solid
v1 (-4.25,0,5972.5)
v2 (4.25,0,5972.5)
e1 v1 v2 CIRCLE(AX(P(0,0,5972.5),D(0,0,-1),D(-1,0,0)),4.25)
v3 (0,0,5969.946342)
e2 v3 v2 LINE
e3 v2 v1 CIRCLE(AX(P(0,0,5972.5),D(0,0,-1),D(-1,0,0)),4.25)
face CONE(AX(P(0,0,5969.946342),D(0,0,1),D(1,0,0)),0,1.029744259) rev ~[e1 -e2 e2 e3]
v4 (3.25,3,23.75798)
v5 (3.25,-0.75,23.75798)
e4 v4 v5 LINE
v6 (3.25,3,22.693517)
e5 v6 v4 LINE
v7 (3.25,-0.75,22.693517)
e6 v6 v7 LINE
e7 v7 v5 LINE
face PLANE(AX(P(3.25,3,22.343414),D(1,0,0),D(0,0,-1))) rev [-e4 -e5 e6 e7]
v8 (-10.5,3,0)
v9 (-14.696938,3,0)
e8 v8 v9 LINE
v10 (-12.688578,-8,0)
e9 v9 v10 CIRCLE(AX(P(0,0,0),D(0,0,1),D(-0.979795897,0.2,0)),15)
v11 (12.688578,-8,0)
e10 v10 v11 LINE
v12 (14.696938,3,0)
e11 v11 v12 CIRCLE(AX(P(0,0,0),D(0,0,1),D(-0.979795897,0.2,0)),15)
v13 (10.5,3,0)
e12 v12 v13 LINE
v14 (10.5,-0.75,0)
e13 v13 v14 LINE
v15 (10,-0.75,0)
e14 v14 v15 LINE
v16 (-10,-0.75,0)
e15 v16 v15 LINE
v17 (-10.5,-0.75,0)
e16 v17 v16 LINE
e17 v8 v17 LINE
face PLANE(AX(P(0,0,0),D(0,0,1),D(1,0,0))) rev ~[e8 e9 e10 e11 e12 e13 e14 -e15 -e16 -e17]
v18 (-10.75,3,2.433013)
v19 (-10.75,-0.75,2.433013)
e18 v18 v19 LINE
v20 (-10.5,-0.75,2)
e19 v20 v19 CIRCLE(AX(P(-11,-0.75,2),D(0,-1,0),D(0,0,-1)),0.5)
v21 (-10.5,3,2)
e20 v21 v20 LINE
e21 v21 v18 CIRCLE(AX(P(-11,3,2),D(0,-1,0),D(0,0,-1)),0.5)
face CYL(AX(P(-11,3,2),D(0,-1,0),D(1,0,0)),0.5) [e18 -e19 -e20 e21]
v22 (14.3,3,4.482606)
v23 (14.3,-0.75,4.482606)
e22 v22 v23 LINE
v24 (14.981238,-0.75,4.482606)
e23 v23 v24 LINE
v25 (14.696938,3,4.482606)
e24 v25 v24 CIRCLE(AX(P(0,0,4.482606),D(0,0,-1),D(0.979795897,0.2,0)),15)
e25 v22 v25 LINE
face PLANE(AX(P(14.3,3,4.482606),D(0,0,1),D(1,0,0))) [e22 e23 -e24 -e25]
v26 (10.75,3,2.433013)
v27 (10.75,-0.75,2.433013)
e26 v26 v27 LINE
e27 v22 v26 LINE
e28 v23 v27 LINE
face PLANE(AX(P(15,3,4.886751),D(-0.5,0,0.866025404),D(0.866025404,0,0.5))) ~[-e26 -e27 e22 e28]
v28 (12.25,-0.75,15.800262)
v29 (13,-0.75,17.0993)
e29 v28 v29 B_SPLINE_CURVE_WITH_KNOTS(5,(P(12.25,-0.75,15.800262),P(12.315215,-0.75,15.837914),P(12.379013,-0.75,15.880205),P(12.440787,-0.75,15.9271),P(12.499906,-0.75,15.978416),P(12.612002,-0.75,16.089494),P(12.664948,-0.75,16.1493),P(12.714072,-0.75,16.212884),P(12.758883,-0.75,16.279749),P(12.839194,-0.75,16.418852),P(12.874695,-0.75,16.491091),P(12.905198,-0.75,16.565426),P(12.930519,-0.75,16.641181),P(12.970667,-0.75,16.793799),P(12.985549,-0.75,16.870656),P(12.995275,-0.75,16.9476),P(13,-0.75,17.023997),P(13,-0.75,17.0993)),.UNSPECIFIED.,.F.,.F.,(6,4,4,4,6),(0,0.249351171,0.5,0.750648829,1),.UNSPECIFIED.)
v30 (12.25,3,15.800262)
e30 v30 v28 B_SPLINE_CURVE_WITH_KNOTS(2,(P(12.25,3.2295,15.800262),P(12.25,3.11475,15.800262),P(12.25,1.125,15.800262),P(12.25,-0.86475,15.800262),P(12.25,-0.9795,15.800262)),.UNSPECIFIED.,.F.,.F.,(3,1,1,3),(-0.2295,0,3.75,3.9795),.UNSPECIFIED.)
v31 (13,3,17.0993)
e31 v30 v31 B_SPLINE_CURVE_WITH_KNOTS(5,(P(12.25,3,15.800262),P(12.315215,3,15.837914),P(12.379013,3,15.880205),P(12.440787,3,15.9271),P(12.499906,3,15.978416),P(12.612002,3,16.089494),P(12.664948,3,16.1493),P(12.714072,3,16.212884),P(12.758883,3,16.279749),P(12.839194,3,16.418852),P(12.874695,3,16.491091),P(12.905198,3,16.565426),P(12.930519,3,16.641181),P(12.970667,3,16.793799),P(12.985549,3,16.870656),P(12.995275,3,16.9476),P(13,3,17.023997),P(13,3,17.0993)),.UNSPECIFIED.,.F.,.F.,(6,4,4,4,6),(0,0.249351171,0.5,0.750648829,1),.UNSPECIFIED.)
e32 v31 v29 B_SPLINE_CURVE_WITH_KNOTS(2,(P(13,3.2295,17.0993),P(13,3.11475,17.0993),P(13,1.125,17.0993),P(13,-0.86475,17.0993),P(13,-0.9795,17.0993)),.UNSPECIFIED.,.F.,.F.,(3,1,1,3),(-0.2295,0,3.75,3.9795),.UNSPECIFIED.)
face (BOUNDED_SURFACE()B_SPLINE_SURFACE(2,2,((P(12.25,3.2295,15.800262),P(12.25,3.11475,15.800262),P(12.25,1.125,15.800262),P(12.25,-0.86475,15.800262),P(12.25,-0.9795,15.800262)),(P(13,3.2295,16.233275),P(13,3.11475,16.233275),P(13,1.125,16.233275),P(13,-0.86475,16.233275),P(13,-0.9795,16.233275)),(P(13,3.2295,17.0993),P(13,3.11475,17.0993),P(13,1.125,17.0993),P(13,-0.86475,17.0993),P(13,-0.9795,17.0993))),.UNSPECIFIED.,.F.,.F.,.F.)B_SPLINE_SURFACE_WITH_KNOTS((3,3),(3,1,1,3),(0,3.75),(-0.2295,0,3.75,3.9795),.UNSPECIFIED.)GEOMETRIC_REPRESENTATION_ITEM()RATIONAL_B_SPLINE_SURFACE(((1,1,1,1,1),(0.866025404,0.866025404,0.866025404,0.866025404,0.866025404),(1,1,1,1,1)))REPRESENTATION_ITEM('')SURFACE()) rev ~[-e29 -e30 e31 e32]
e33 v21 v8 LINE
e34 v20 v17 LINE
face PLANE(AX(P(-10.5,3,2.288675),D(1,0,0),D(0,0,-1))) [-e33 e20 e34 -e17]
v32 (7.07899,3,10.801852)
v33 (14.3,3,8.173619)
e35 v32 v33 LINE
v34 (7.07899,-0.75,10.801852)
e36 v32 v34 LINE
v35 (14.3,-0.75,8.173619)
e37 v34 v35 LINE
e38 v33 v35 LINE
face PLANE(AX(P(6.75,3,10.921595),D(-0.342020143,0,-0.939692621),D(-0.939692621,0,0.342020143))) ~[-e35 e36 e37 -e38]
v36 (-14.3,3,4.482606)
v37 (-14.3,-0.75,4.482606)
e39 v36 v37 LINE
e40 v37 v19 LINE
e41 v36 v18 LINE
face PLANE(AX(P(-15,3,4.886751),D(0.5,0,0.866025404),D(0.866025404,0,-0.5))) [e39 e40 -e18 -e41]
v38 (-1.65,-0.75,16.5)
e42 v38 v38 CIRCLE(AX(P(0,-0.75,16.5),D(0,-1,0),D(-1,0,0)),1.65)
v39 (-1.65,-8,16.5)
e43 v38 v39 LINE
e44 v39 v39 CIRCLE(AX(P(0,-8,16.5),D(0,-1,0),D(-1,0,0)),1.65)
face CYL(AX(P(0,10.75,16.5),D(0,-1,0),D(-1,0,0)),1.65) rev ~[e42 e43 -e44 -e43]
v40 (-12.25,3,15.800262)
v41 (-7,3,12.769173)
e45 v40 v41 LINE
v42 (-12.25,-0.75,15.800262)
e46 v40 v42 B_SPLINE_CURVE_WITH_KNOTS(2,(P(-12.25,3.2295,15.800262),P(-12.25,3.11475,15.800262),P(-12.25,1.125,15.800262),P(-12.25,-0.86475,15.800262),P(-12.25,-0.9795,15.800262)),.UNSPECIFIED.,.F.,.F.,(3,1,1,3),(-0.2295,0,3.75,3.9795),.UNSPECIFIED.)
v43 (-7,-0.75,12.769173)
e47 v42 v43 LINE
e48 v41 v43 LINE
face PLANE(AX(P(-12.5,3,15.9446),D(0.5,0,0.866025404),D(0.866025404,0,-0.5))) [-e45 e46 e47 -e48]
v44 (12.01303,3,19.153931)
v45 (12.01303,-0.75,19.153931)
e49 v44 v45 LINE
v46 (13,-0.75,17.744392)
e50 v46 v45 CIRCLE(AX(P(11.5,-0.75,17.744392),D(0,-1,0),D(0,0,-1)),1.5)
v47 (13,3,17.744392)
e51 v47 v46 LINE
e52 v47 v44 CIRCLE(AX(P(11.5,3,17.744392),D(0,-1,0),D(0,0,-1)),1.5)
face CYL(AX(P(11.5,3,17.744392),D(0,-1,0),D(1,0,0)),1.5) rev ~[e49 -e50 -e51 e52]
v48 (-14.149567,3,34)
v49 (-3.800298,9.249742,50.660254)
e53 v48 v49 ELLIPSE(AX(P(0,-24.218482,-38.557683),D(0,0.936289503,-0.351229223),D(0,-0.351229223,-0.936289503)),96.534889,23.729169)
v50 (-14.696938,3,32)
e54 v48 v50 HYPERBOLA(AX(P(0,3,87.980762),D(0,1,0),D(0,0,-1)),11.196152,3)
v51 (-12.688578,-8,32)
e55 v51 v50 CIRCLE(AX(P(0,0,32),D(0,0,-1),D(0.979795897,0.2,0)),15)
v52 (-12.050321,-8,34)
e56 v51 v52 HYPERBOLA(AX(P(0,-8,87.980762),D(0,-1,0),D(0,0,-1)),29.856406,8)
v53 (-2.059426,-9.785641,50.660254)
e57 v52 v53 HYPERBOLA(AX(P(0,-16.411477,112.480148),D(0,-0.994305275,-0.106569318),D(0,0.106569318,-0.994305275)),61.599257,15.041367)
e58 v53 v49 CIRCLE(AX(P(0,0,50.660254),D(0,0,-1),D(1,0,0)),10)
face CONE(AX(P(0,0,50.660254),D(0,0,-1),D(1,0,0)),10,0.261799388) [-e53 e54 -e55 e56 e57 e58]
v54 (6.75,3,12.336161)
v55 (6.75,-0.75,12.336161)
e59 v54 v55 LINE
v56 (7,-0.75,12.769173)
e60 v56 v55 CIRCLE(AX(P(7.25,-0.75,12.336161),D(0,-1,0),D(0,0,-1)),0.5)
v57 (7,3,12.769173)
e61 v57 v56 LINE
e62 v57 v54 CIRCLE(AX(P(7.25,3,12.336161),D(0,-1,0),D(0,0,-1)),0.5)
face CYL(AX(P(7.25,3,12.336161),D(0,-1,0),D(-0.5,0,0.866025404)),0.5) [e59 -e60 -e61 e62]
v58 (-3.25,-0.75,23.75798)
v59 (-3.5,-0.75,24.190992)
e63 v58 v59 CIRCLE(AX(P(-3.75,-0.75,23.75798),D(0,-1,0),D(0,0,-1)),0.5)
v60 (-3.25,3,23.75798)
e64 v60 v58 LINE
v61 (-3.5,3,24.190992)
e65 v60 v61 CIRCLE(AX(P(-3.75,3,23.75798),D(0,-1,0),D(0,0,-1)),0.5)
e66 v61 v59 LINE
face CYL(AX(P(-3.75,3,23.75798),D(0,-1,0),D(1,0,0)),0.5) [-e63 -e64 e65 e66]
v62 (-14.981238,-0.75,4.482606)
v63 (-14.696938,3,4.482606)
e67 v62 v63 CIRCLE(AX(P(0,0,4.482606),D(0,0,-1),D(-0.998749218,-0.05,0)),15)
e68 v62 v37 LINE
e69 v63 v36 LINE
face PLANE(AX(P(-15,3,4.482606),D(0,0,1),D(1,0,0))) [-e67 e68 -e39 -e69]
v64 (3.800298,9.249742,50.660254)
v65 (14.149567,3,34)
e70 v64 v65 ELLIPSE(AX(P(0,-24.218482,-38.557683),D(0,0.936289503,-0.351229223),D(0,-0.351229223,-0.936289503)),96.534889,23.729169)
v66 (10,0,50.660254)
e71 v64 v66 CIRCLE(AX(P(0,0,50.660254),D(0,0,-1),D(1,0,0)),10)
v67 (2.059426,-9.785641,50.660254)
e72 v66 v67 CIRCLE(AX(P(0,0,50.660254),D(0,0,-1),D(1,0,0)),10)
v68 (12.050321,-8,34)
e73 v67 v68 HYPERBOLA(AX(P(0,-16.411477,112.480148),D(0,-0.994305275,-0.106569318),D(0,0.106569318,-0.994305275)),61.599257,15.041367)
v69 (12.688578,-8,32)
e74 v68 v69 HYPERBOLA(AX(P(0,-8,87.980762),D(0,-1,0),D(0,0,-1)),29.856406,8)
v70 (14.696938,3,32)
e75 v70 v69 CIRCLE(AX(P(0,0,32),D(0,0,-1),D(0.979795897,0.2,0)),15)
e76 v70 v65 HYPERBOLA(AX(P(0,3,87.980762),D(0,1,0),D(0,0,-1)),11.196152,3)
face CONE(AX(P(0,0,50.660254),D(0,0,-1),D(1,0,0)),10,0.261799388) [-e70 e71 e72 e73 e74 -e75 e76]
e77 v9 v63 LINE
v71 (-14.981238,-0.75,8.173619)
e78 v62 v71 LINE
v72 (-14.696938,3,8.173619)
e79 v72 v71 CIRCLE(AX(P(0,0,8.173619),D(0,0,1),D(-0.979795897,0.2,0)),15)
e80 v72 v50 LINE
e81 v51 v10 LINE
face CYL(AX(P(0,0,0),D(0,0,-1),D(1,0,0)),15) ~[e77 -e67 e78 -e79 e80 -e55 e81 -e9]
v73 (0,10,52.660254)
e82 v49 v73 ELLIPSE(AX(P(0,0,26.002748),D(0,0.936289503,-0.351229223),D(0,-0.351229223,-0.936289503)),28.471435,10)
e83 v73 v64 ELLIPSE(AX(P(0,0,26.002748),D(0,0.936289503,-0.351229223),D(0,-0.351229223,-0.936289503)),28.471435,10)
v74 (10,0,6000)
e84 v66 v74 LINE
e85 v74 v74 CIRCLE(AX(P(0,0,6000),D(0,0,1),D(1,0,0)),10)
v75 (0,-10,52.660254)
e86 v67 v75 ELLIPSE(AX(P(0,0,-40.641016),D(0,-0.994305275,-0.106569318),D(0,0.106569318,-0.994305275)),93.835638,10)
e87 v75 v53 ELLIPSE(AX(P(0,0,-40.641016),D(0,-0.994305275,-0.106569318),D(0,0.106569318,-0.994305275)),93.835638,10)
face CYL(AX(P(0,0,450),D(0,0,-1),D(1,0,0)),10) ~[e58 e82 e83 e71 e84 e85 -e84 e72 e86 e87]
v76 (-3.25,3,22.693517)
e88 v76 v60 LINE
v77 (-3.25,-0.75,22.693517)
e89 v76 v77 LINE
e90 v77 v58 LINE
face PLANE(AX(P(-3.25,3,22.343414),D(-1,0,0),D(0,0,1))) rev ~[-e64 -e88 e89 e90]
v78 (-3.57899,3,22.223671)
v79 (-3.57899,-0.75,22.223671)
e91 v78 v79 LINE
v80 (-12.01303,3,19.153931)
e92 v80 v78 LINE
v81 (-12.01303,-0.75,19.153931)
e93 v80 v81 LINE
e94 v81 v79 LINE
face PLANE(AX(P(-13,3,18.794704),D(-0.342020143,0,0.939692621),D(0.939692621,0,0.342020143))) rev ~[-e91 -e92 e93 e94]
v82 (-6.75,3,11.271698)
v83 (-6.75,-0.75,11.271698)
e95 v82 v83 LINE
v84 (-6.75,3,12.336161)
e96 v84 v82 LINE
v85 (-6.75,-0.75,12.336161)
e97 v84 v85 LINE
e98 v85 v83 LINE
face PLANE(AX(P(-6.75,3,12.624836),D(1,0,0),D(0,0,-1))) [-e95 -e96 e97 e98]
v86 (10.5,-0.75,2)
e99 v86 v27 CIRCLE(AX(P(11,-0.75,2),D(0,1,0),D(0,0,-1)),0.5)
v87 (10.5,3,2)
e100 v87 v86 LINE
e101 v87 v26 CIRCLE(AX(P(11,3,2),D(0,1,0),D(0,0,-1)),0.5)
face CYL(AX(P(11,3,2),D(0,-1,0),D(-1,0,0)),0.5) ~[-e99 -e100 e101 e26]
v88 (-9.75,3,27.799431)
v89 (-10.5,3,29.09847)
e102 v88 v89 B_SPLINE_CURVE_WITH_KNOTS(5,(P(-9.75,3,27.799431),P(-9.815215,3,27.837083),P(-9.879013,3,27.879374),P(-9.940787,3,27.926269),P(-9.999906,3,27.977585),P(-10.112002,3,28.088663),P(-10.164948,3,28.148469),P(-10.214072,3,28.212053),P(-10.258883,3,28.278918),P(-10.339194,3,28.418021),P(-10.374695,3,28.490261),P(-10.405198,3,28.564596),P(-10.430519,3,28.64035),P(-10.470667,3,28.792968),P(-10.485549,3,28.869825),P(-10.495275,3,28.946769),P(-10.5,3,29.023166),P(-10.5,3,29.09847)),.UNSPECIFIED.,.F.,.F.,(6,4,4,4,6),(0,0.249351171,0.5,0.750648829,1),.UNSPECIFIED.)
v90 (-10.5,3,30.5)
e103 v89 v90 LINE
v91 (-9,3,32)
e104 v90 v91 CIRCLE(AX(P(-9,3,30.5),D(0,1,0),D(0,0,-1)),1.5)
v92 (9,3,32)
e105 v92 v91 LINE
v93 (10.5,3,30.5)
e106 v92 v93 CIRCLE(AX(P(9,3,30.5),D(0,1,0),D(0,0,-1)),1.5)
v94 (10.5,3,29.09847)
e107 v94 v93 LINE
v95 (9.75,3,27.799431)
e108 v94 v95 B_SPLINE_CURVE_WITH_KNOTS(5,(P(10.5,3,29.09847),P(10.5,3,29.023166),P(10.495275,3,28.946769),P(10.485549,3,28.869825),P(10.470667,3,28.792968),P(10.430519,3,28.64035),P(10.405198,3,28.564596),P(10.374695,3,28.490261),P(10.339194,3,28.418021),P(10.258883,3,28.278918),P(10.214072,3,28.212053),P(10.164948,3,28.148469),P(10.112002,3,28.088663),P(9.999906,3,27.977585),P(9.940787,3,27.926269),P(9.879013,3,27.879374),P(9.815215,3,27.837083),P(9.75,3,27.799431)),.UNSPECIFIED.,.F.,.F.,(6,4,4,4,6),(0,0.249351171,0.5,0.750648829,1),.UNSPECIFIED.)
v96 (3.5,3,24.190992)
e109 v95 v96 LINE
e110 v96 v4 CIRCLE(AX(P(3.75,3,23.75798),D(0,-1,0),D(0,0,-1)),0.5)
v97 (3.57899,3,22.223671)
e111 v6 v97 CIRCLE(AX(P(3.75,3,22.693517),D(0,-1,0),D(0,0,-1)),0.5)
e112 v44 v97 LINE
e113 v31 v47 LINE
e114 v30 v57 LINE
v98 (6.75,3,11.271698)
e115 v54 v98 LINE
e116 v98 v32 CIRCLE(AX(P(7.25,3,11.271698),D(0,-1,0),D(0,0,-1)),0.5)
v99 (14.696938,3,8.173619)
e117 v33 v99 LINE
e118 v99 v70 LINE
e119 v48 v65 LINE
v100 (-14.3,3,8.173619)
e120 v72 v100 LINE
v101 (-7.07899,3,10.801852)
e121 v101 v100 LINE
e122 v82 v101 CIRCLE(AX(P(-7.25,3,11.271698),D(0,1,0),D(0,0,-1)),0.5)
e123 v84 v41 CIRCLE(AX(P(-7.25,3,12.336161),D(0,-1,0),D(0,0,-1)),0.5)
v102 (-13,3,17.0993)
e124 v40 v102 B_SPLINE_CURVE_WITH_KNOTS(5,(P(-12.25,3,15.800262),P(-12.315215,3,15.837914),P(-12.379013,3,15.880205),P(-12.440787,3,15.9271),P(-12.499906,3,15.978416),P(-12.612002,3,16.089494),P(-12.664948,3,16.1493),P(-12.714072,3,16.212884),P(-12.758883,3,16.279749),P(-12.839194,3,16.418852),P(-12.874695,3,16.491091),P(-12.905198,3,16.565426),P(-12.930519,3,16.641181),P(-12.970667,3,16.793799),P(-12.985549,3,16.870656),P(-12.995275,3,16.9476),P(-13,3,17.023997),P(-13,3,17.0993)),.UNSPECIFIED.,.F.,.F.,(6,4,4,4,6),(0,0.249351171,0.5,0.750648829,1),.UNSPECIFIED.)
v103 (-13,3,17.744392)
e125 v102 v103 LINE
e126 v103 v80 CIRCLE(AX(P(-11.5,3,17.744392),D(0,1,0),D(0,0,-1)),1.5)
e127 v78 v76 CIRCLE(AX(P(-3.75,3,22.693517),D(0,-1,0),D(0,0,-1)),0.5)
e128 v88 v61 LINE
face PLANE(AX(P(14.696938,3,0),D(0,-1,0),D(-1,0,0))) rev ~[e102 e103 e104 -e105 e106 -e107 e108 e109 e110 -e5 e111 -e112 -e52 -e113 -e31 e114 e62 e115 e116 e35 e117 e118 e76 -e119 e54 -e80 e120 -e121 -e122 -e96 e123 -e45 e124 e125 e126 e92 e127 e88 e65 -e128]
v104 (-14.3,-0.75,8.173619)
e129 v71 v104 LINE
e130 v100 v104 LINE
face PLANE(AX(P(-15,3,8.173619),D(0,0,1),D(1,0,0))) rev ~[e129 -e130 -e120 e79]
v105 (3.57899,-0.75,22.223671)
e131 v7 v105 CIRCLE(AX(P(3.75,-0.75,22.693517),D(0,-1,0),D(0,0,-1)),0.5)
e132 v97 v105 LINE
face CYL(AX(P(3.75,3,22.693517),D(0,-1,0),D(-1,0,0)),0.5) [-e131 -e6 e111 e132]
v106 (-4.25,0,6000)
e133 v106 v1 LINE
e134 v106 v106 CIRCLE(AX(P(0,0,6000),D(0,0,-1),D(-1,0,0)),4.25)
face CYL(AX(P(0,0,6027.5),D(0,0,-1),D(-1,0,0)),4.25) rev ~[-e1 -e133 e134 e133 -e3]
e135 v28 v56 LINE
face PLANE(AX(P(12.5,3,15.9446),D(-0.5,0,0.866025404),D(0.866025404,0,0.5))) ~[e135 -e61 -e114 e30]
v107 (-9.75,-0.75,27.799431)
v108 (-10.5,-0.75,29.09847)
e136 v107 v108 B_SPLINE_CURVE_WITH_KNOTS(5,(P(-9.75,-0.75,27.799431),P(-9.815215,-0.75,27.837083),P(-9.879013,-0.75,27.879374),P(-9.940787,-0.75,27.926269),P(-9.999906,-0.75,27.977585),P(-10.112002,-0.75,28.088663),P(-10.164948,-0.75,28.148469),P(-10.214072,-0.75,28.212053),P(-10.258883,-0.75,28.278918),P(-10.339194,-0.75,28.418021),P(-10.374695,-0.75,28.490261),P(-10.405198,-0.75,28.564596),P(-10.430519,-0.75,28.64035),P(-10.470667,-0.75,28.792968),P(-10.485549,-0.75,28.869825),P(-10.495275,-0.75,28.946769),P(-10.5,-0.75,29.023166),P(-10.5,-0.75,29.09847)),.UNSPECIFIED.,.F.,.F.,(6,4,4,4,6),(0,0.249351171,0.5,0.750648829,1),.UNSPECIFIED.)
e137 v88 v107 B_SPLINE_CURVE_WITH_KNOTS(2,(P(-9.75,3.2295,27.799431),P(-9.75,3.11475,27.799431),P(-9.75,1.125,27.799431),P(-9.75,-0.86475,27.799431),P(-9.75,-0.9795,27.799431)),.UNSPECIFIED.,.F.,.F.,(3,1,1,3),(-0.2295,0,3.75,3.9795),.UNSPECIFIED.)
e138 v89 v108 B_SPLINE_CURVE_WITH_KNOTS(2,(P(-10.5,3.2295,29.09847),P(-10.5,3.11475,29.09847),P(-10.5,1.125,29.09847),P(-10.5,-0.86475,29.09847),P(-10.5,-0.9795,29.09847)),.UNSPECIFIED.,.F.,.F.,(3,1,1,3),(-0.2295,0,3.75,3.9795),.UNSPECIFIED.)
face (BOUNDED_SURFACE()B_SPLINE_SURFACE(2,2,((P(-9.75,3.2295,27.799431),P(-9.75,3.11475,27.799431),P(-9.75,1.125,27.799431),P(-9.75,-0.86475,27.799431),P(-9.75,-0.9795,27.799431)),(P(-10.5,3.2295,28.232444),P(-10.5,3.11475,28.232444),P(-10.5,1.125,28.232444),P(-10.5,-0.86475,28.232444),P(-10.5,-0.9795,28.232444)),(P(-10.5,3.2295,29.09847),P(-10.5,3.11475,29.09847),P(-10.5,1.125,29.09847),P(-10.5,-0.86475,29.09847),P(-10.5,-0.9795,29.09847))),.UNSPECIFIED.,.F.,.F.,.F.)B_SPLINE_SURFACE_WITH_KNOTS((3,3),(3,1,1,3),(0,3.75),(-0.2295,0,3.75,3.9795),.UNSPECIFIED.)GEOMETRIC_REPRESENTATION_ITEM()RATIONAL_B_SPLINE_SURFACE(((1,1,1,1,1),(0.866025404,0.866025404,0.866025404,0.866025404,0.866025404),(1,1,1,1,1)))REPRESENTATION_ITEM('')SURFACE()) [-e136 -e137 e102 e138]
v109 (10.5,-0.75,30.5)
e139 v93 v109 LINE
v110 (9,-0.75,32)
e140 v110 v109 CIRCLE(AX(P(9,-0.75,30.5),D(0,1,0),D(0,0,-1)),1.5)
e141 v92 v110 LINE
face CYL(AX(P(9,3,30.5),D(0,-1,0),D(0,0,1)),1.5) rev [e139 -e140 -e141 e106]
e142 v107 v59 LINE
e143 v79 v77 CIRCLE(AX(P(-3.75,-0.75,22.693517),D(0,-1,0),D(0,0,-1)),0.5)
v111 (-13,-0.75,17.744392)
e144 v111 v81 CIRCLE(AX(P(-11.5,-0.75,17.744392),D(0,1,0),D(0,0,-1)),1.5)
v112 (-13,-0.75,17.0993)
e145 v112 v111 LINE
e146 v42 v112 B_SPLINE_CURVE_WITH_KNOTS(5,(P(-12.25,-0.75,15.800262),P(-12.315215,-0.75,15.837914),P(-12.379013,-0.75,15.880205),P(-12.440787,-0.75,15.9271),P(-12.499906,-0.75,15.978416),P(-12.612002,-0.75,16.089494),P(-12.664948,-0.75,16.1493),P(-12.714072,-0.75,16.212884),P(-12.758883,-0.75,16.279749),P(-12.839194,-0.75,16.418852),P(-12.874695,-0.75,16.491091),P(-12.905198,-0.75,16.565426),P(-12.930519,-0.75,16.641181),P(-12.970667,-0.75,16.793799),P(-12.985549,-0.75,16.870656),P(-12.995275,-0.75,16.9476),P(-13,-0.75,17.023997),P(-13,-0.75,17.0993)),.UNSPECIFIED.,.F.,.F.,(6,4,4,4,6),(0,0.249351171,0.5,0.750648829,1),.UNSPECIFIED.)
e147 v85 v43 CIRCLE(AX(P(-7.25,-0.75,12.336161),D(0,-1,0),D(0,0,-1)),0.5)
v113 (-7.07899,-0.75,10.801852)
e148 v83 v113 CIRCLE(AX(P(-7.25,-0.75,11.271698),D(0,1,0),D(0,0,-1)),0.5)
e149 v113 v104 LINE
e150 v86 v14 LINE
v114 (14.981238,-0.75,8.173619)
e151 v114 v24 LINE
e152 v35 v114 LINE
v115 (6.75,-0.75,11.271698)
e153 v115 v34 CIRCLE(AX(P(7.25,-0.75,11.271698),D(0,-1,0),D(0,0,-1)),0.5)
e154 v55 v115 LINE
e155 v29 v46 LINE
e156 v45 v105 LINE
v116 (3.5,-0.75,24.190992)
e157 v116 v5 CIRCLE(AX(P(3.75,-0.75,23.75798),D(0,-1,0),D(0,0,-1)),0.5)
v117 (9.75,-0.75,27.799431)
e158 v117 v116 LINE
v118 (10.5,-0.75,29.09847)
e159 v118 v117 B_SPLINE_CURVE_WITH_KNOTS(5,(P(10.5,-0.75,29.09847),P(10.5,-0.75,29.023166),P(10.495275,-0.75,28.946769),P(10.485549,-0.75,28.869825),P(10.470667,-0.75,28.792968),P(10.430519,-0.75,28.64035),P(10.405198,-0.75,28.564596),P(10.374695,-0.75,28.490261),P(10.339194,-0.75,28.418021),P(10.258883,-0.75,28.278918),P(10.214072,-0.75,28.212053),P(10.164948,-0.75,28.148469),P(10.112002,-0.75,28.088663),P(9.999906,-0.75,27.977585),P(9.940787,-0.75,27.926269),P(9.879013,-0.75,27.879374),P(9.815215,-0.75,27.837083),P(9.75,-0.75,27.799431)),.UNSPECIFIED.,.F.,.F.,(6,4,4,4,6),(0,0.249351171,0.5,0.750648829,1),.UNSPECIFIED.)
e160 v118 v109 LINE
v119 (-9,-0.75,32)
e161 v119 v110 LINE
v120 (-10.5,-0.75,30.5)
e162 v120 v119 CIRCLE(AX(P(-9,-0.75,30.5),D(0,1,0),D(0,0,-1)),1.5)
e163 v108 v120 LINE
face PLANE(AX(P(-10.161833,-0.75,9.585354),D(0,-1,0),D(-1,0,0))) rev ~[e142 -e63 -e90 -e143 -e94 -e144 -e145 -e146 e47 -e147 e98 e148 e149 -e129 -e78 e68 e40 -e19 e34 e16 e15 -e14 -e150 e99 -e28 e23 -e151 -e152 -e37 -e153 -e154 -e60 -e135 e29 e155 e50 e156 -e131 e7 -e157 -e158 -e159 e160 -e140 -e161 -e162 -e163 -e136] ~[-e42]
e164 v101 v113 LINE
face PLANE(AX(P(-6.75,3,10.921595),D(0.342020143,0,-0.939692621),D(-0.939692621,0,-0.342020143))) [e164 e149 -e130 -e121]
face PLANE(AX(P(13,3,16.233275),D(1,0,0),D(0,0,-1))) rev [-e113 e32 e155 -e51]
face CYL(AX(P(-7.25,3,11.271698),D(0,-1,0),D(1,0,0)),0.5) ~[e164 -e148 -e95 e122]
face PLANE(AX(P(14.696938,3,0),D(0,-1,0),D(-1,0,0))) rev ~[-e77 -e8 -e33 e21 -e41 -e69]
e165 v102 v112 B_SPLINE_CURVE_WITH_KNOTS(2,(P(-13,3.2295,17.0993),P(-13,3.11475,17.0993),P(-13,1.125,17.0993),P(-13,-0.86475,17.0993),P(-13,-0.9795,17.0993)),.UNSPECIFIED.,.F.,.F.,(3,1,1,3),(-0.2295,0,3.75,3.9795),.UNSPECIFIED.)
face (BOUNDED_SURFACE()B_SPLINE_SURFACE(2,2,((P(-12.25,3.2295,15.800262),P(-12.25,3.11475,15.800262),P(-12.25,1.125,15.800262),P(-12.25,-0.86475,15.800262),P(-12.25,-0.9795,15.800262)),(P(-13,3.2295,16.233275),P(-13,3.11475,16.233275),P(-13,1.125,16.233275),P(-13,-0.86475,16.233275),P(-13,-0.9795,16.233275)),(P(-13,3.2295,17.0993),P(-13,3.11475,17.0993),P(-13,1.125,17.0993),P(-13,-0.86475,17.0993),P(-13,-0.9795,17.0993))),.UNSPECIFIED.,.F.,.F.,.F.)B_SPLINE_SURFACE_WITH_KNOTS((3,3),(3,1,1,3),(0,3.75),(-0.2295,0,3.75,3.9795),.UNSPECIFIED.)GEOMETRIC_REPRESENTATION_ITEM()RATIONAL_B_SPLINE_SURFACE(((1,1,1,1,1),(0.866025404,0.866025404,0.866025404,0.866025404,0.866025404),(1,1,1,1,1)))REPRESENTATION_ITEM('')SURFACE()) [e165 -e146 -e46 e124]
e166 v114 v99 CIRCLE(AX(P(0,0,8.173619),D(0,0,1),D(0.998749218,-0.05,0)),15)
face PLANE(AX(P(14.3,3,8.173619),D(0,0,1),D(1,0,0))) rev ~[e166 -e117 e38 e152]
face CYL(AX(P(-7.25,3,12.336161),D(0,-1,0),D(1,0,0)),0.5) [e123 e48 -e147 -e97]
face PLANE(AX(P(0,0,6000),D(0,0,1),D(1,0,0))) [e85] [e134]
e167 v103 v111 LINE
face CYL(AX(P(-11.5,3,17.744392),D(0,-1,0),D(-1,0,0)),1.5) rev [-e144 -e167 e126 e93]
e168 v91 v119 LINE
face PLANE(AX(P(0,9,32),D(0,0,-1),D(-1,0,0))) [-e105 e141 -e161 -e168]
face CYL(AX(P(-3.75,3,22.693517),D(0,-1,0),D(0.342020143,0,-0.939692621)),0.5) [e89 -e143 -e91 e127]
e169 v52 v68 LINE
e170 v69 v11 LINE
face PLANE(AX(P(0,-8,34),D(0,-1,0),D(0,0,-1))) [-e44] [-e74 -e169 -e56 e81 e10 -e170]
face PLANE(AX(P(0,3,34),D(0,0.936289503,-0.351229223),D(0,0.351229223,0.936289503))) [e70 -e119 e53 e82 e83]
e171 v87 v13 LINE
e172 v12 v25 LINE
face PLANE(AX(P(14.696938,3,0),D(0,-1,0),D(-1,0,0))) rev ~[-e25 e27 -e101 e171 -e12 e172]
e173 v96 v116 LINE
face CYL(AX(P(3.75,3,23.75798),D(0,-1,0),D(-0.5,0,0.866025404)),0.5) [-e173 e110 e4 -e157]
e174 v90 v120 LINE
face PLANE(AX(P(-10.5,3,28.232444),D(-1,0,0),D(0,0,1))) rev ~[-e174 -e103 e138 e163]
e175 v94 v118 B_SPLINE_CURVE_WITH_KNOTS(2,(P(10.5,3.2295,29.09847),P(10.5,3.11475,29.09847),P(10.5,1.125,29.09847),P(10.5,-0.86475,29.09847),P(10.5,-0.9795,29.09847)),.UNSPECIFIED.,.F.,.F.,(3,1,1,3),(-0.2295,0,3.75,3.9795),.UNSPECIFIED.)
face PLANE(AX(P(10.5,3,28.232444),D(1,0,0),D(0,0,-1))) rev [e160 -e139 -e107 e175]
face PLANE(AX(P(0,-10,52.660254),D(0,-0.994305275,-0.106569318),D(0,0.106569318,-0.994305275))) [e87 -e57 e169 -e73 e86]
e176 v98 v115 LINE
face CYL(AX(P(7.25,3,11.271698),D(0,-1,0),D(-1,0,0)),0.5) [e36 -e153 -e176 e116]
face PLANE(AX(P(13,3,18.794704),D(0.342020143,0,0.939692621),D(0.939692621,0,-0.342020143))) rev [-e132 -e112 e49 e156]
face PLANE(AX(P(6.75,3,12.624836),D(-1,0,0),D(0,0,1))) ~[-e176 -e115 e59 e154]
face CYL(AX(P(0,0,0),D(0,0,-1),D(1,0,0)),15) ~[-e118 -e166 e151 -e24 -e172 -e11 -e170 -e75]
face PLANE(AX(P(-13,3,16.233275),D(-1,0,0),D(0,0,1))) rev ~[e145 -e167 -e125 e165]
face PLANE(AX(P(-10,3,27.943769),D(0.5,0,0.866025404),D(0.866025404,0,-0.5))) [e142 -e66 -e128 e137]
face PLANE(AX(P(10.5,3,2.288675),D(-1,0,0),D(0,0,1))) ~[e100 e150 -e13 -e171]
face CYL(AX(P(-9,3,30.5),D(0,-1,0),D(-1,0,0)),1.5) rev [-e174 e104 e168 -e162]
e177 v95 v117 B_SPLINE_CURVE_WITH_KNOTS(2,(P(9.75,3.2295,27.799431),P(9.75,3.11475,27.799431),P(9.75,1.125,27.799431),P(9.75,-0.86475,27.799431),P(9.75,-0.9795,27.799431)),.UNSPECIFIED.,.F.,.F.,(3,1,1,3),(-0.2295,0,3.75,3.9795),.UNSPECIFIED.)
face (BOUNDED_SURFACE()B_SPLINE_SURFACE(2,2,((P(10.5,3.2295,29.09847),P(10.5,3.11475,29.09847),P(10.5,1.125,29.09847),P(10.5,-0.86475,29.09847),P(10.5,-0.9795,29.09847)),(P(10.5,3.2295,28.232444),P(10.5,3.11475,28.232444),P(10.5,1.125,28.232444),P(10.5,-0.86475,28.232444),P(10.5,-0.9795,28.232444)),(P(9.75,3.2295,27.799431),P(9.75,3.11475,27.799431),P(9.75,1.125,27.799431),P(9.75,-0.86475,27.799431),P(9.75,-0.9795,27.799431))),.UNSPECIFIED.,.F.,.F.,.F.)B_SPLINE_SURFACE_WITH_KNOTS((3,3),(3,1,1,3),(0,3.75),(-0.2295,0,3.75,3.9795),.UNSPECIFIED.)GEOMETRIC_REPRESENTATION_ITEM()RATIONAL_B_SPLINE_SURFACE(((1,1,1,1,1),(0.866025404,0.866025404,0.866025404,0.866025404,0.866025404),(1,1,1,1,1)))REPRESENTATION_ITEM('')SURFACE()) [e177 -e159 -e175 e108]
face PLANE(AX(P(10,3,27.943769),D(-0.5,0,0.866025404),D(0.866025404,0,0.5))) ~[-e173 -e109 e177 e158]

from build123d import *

# Parameters (mm, degrees)
ESQUISSE1_R            = 15
BOSS_EXTRU_1_DEPTH     = 450
SKETCH4_W              = 29.393876914
SKETCH4_H              = 12
CUT_EXTRUDE1_DEPTH     = 32
CUT_EXTRUDE2_DEPTH     = 3.75
SKETCH6_W              = 0.5
SKETCH6_H              = 2.288675135
CUT_EXTRUDE3_DEPTH     = 3.75
FILLET1_R              = 0.5
FILLET2_R              = 1.5
CUT_EXTRUDE4_DEPTH     = 15
CUT_EXTRUDE5_DEPTH     = 15
SKETCH11_W             = 0.7
SKETCH11_H             = 0.404145188
SKETCH11_H_2           = 1.772825297
CUT_EXTRUDE7_DEPTH     = 3.75
SKETCH12_R             = 10
BOSS_EXTRUDE1_DEPTH    = 5550
M10_TAPPED_HOLE1_D     = 8.5
M10_TAPPED_HOLE1_DEPTH = 27.5
M10_TAPPED_HOLE1_TIP   = 2.553657631
M4_TAPPED_HOLE1_D      = 3.3
M4_TAPPED_HOLE1_DEPTH  = 11.5
M4_TAPPED_HOLE1_TIP    = 0.991420021


with BuildPart() as part:
    # Esquisse1 → Boss.-Extru.1 (new body)
    with BuildSketch(Plane.XY):
        Circle(ESQUISSE1_R)
    extrude(amount=BOSS_EXTRU_1_DEPTH)

    # Sketch4 → Cut-Extrude1 (cut)
    with BuildSketch(Plane(origin=(0, 0, 0), x_dir=(-1, 0, 0), z_dir=(0, 0, -1))):
        with Locations((0, 9)):
            Rectangle(SKETCH4_W, SKETCH4_H)
    extrude(amount=-CUT_EXTRUDE1_DEPTH, mode=Mode.SUBTRACT)

    # Sketch5 → Cut-Extrude2 (cut)
    with BuildSketch(Plane(origin=(0, 3, 0), x_dir=(1, 0, 0), z_dir=(0, 1, 0))):
        Polygon((0, 0), (0, -32), (-10, -32), (-10, -27.943769062), (-3, -23.902317178), (-3, -21.902317178), (-12.5, -18.444599952), (-12.5, -15.944599952), (-6.5, -12.480498337), (-6.5, -10.480498337), (-15, -7.386751346), (-15, -4.886751346), (-10, -2), (-10, 0), align=None)
    cut_extrude2 = extrude(amount=-CUT_EXTRUDE2_DEPTH, mode=Mode.SUBTRACT)

    # Sketch6 → Cut-Extrude3 (cut)
    with BuildSketch(Plane(origin=(0, 3, 0), x_dir=(1, 0, 0), z_dir=(0, 1, 0))):
        with Locations((-10.25, -1.144337568)):
            Rectangle(SKETCH6_W, SKETCH6_H)
        Polygon((-6.75, -12.624835905), (-6.75, -10.921594665), (-15, -7.918840232), (-15, -7.386751346), (-6.5, -10.480498337), (-6.5, -12.480498337), align=None)
        Polygon((-12.5, -15.944599952), (-13, -16.233275087), (-13, -18.794703721), (-3.25, -22.343413506), (-3.25, -24.046654745), (-3, -23.902317178), (-3, -21.902317178), (-12.5, -18.444599952), align=None)
        Polygon((-10, -32), (-10, -27.943769062), (-10.5, -28.232444197), (-10.5, -32), align=None)
    cut_extrude3 = extrude(amount=-CUT_EXTRUDE3_DEPTH, mode=Mode.SUBTRACT)

    # Mirror2: Cut-Extrude2, Cut-Extrude3 across plane
    add(cut_extrude2.mirror(Plane(origin=(0, 0, 0), x_dir=(0, 0, 1), z_dir=(1, 0, 0))), mode=Mode.SUBTRACT)
    add(cut_extrude3.mirror(Plane(origin=(0, 0, 0), x_dir=(0, 0, 1), z_dir=(1, 0, 0))), mode=Mode.SUBTRACT)

    # Fillet1
    fillet1_edges = [part.edges().sort_by_distance(p)[0] for p in [
        (-3.25, 1.125, 22.343413506),
        (-3.25, 1.125, 24.046654745),
        (10.5, 1.125, 2.288675135),
        (6.75, 1.125, 12.624835905),
        (6.75, 1.125, 10.921594665),
        (3.25, 1.125, 22.343413506),
        (3.25, 1.125, 24.046654745),
        (-10.5, 1.125, 2.288675135),
        (-6.75, 1.125, 10.921594665),
        (-6.75, 1.125, 12.624835905),
    ]]
    fillet(fillet1_edges, radius=FILLET1_R)

    # Fillet2
    fillet2_edges = [part.edges().sort_by_distance(p)[0] for p in [
        (-13, 1.125, 16.233275087),
        (-13, 1.125, 18.794703721),
        (-10.5, 1.125, 28.232444197),
        (-10.5, 1.125, 32),
        (13, 1.125, 16.233275087),
        (13, 1.125, 18.794703721),
        (10.5, 1.125, 32),
        (10.5, 1.125, 28.232444197),
    ]]
    fillet(fillet2_edges, radius=FILLET2_R)

    # Sketch7 → Cut-Revolve1 (revolve, cut)
    with BuildSketch(Plane(origin=(0, 0, 0), x_dir=(1, 0, 0), z_dir=(0, 1, 0))):
        Polygon((10, -450), (10, -50.660254038), (15, -32), (15, -450), align=None)
    revolve(axis=Axis((0, 0, 450), (0, 0, -1)), mode=Mode.SUBTRACT)

    # Sketch8 → Cut-Extrude4 (cut, symmetric)
    with BuildSketch(Plane(origin=(0, 0, 0), x_dir=(0, 0, -1), z_dir=(1, 0, 0))):
        Polygon((-52.660254038, 10), (-32, 15), (-32, 10), (-32, 3), (-34, 3), align=None)
    extrude(amount=CUT_EXTRUDE4_DEPTH, both=True, mode=Mode.SUBTRACT)

    # Sketch9 → Cut-Extrude5 (cut, symmetric)
    with BuildSketch(Plane(origin=(0, 0, 0), x_dir=(0, 0, -1), z_dir=(1, 0, 0))):
        Polygon((0, -8), (0, -15), (-52.660254038, -15), (-52.660254038, -10), (-34, -8), align=None)
    extrude(amount=CUT_EXTRUDE5_DEPTH, both=True, mode=Mode.SUBTRACT)

    # Sketch11 → Cut-Extrude7 (cut)
    with BuildSketch(Plane(origin=(0, 3, 0), x_dir=(1, 0, 0), z_dir=(0, 1, 0))):
        with Locations((14.65, -4.684678752)):
            Rectangle(SKETCH11_W, SKETCH11_H)
        with Locations((-14.65, -4.684678752)):
            Rectangle(SKETCH11_W, SKETCH11_H)
        with Locations((14.65, -7.287206748)):
            Rectangle(SKETCH11_W, SKETCH11_H_2)
        with Locations((-14.65, -7.287206748)):
            Rectangle(SKETCH11_W, SKETCH11_H_2)
    extrude(amount=-CUT_EXTRUDE7_DEPTH, mode=Mode.SUBTRACT)

    # Sketch12 → Boss-Extrude1 (add)
    with BuildSketch(Plane.XY.offset(450)):
        Circle(SKETCH12_R)
    extrude(amount=BOSS_EXTRUDE1_DEPTH)

    # M10 Tapped Hole1
    with Locations(Plane.XY.offset(6000)):
        with Locations((0, 0)):
            Hole(M10_TAPPED_HOLE1_D / 2, depth=M10_TAPPED_HOLE1_DEPTH)
            with Locations((0, 0, -(M10_TAPPED_HOLE1_DEPTH + M10_TAPPED_HOLE1_TIP / 2))):  # 118° drill point
                Cone(0, M10_TAPPED_HOLE1_D / 2, M10_TAPPED_HOLE1_TIP, mode=Mode.SUBTRACT)

    # M4 Tapped Hole1
    with Locations(Plane(origin=(0, -0.75, 0), x_dir=(1, 0, 0), z_dir=(0, 1, 0))):
        with Locations((0, -16.5)):
            Hole(M4_TAPPED_HOLE1_D / 2, depth=M4_TAPPED_HOLE1_DEPTH)
            with Locations((0, 0, -(M4_TAPPED_HOLE1_DEPTH + M4_TAPPED_HOLE1_TIP / 2))):  # 118° drill point
                Cone(0, M4_TAPPED_HOLE1_D / 2, M4_TAPPED_HOLE1_TIP, mode=Mode.SUBTRACT)


solid = part.part
